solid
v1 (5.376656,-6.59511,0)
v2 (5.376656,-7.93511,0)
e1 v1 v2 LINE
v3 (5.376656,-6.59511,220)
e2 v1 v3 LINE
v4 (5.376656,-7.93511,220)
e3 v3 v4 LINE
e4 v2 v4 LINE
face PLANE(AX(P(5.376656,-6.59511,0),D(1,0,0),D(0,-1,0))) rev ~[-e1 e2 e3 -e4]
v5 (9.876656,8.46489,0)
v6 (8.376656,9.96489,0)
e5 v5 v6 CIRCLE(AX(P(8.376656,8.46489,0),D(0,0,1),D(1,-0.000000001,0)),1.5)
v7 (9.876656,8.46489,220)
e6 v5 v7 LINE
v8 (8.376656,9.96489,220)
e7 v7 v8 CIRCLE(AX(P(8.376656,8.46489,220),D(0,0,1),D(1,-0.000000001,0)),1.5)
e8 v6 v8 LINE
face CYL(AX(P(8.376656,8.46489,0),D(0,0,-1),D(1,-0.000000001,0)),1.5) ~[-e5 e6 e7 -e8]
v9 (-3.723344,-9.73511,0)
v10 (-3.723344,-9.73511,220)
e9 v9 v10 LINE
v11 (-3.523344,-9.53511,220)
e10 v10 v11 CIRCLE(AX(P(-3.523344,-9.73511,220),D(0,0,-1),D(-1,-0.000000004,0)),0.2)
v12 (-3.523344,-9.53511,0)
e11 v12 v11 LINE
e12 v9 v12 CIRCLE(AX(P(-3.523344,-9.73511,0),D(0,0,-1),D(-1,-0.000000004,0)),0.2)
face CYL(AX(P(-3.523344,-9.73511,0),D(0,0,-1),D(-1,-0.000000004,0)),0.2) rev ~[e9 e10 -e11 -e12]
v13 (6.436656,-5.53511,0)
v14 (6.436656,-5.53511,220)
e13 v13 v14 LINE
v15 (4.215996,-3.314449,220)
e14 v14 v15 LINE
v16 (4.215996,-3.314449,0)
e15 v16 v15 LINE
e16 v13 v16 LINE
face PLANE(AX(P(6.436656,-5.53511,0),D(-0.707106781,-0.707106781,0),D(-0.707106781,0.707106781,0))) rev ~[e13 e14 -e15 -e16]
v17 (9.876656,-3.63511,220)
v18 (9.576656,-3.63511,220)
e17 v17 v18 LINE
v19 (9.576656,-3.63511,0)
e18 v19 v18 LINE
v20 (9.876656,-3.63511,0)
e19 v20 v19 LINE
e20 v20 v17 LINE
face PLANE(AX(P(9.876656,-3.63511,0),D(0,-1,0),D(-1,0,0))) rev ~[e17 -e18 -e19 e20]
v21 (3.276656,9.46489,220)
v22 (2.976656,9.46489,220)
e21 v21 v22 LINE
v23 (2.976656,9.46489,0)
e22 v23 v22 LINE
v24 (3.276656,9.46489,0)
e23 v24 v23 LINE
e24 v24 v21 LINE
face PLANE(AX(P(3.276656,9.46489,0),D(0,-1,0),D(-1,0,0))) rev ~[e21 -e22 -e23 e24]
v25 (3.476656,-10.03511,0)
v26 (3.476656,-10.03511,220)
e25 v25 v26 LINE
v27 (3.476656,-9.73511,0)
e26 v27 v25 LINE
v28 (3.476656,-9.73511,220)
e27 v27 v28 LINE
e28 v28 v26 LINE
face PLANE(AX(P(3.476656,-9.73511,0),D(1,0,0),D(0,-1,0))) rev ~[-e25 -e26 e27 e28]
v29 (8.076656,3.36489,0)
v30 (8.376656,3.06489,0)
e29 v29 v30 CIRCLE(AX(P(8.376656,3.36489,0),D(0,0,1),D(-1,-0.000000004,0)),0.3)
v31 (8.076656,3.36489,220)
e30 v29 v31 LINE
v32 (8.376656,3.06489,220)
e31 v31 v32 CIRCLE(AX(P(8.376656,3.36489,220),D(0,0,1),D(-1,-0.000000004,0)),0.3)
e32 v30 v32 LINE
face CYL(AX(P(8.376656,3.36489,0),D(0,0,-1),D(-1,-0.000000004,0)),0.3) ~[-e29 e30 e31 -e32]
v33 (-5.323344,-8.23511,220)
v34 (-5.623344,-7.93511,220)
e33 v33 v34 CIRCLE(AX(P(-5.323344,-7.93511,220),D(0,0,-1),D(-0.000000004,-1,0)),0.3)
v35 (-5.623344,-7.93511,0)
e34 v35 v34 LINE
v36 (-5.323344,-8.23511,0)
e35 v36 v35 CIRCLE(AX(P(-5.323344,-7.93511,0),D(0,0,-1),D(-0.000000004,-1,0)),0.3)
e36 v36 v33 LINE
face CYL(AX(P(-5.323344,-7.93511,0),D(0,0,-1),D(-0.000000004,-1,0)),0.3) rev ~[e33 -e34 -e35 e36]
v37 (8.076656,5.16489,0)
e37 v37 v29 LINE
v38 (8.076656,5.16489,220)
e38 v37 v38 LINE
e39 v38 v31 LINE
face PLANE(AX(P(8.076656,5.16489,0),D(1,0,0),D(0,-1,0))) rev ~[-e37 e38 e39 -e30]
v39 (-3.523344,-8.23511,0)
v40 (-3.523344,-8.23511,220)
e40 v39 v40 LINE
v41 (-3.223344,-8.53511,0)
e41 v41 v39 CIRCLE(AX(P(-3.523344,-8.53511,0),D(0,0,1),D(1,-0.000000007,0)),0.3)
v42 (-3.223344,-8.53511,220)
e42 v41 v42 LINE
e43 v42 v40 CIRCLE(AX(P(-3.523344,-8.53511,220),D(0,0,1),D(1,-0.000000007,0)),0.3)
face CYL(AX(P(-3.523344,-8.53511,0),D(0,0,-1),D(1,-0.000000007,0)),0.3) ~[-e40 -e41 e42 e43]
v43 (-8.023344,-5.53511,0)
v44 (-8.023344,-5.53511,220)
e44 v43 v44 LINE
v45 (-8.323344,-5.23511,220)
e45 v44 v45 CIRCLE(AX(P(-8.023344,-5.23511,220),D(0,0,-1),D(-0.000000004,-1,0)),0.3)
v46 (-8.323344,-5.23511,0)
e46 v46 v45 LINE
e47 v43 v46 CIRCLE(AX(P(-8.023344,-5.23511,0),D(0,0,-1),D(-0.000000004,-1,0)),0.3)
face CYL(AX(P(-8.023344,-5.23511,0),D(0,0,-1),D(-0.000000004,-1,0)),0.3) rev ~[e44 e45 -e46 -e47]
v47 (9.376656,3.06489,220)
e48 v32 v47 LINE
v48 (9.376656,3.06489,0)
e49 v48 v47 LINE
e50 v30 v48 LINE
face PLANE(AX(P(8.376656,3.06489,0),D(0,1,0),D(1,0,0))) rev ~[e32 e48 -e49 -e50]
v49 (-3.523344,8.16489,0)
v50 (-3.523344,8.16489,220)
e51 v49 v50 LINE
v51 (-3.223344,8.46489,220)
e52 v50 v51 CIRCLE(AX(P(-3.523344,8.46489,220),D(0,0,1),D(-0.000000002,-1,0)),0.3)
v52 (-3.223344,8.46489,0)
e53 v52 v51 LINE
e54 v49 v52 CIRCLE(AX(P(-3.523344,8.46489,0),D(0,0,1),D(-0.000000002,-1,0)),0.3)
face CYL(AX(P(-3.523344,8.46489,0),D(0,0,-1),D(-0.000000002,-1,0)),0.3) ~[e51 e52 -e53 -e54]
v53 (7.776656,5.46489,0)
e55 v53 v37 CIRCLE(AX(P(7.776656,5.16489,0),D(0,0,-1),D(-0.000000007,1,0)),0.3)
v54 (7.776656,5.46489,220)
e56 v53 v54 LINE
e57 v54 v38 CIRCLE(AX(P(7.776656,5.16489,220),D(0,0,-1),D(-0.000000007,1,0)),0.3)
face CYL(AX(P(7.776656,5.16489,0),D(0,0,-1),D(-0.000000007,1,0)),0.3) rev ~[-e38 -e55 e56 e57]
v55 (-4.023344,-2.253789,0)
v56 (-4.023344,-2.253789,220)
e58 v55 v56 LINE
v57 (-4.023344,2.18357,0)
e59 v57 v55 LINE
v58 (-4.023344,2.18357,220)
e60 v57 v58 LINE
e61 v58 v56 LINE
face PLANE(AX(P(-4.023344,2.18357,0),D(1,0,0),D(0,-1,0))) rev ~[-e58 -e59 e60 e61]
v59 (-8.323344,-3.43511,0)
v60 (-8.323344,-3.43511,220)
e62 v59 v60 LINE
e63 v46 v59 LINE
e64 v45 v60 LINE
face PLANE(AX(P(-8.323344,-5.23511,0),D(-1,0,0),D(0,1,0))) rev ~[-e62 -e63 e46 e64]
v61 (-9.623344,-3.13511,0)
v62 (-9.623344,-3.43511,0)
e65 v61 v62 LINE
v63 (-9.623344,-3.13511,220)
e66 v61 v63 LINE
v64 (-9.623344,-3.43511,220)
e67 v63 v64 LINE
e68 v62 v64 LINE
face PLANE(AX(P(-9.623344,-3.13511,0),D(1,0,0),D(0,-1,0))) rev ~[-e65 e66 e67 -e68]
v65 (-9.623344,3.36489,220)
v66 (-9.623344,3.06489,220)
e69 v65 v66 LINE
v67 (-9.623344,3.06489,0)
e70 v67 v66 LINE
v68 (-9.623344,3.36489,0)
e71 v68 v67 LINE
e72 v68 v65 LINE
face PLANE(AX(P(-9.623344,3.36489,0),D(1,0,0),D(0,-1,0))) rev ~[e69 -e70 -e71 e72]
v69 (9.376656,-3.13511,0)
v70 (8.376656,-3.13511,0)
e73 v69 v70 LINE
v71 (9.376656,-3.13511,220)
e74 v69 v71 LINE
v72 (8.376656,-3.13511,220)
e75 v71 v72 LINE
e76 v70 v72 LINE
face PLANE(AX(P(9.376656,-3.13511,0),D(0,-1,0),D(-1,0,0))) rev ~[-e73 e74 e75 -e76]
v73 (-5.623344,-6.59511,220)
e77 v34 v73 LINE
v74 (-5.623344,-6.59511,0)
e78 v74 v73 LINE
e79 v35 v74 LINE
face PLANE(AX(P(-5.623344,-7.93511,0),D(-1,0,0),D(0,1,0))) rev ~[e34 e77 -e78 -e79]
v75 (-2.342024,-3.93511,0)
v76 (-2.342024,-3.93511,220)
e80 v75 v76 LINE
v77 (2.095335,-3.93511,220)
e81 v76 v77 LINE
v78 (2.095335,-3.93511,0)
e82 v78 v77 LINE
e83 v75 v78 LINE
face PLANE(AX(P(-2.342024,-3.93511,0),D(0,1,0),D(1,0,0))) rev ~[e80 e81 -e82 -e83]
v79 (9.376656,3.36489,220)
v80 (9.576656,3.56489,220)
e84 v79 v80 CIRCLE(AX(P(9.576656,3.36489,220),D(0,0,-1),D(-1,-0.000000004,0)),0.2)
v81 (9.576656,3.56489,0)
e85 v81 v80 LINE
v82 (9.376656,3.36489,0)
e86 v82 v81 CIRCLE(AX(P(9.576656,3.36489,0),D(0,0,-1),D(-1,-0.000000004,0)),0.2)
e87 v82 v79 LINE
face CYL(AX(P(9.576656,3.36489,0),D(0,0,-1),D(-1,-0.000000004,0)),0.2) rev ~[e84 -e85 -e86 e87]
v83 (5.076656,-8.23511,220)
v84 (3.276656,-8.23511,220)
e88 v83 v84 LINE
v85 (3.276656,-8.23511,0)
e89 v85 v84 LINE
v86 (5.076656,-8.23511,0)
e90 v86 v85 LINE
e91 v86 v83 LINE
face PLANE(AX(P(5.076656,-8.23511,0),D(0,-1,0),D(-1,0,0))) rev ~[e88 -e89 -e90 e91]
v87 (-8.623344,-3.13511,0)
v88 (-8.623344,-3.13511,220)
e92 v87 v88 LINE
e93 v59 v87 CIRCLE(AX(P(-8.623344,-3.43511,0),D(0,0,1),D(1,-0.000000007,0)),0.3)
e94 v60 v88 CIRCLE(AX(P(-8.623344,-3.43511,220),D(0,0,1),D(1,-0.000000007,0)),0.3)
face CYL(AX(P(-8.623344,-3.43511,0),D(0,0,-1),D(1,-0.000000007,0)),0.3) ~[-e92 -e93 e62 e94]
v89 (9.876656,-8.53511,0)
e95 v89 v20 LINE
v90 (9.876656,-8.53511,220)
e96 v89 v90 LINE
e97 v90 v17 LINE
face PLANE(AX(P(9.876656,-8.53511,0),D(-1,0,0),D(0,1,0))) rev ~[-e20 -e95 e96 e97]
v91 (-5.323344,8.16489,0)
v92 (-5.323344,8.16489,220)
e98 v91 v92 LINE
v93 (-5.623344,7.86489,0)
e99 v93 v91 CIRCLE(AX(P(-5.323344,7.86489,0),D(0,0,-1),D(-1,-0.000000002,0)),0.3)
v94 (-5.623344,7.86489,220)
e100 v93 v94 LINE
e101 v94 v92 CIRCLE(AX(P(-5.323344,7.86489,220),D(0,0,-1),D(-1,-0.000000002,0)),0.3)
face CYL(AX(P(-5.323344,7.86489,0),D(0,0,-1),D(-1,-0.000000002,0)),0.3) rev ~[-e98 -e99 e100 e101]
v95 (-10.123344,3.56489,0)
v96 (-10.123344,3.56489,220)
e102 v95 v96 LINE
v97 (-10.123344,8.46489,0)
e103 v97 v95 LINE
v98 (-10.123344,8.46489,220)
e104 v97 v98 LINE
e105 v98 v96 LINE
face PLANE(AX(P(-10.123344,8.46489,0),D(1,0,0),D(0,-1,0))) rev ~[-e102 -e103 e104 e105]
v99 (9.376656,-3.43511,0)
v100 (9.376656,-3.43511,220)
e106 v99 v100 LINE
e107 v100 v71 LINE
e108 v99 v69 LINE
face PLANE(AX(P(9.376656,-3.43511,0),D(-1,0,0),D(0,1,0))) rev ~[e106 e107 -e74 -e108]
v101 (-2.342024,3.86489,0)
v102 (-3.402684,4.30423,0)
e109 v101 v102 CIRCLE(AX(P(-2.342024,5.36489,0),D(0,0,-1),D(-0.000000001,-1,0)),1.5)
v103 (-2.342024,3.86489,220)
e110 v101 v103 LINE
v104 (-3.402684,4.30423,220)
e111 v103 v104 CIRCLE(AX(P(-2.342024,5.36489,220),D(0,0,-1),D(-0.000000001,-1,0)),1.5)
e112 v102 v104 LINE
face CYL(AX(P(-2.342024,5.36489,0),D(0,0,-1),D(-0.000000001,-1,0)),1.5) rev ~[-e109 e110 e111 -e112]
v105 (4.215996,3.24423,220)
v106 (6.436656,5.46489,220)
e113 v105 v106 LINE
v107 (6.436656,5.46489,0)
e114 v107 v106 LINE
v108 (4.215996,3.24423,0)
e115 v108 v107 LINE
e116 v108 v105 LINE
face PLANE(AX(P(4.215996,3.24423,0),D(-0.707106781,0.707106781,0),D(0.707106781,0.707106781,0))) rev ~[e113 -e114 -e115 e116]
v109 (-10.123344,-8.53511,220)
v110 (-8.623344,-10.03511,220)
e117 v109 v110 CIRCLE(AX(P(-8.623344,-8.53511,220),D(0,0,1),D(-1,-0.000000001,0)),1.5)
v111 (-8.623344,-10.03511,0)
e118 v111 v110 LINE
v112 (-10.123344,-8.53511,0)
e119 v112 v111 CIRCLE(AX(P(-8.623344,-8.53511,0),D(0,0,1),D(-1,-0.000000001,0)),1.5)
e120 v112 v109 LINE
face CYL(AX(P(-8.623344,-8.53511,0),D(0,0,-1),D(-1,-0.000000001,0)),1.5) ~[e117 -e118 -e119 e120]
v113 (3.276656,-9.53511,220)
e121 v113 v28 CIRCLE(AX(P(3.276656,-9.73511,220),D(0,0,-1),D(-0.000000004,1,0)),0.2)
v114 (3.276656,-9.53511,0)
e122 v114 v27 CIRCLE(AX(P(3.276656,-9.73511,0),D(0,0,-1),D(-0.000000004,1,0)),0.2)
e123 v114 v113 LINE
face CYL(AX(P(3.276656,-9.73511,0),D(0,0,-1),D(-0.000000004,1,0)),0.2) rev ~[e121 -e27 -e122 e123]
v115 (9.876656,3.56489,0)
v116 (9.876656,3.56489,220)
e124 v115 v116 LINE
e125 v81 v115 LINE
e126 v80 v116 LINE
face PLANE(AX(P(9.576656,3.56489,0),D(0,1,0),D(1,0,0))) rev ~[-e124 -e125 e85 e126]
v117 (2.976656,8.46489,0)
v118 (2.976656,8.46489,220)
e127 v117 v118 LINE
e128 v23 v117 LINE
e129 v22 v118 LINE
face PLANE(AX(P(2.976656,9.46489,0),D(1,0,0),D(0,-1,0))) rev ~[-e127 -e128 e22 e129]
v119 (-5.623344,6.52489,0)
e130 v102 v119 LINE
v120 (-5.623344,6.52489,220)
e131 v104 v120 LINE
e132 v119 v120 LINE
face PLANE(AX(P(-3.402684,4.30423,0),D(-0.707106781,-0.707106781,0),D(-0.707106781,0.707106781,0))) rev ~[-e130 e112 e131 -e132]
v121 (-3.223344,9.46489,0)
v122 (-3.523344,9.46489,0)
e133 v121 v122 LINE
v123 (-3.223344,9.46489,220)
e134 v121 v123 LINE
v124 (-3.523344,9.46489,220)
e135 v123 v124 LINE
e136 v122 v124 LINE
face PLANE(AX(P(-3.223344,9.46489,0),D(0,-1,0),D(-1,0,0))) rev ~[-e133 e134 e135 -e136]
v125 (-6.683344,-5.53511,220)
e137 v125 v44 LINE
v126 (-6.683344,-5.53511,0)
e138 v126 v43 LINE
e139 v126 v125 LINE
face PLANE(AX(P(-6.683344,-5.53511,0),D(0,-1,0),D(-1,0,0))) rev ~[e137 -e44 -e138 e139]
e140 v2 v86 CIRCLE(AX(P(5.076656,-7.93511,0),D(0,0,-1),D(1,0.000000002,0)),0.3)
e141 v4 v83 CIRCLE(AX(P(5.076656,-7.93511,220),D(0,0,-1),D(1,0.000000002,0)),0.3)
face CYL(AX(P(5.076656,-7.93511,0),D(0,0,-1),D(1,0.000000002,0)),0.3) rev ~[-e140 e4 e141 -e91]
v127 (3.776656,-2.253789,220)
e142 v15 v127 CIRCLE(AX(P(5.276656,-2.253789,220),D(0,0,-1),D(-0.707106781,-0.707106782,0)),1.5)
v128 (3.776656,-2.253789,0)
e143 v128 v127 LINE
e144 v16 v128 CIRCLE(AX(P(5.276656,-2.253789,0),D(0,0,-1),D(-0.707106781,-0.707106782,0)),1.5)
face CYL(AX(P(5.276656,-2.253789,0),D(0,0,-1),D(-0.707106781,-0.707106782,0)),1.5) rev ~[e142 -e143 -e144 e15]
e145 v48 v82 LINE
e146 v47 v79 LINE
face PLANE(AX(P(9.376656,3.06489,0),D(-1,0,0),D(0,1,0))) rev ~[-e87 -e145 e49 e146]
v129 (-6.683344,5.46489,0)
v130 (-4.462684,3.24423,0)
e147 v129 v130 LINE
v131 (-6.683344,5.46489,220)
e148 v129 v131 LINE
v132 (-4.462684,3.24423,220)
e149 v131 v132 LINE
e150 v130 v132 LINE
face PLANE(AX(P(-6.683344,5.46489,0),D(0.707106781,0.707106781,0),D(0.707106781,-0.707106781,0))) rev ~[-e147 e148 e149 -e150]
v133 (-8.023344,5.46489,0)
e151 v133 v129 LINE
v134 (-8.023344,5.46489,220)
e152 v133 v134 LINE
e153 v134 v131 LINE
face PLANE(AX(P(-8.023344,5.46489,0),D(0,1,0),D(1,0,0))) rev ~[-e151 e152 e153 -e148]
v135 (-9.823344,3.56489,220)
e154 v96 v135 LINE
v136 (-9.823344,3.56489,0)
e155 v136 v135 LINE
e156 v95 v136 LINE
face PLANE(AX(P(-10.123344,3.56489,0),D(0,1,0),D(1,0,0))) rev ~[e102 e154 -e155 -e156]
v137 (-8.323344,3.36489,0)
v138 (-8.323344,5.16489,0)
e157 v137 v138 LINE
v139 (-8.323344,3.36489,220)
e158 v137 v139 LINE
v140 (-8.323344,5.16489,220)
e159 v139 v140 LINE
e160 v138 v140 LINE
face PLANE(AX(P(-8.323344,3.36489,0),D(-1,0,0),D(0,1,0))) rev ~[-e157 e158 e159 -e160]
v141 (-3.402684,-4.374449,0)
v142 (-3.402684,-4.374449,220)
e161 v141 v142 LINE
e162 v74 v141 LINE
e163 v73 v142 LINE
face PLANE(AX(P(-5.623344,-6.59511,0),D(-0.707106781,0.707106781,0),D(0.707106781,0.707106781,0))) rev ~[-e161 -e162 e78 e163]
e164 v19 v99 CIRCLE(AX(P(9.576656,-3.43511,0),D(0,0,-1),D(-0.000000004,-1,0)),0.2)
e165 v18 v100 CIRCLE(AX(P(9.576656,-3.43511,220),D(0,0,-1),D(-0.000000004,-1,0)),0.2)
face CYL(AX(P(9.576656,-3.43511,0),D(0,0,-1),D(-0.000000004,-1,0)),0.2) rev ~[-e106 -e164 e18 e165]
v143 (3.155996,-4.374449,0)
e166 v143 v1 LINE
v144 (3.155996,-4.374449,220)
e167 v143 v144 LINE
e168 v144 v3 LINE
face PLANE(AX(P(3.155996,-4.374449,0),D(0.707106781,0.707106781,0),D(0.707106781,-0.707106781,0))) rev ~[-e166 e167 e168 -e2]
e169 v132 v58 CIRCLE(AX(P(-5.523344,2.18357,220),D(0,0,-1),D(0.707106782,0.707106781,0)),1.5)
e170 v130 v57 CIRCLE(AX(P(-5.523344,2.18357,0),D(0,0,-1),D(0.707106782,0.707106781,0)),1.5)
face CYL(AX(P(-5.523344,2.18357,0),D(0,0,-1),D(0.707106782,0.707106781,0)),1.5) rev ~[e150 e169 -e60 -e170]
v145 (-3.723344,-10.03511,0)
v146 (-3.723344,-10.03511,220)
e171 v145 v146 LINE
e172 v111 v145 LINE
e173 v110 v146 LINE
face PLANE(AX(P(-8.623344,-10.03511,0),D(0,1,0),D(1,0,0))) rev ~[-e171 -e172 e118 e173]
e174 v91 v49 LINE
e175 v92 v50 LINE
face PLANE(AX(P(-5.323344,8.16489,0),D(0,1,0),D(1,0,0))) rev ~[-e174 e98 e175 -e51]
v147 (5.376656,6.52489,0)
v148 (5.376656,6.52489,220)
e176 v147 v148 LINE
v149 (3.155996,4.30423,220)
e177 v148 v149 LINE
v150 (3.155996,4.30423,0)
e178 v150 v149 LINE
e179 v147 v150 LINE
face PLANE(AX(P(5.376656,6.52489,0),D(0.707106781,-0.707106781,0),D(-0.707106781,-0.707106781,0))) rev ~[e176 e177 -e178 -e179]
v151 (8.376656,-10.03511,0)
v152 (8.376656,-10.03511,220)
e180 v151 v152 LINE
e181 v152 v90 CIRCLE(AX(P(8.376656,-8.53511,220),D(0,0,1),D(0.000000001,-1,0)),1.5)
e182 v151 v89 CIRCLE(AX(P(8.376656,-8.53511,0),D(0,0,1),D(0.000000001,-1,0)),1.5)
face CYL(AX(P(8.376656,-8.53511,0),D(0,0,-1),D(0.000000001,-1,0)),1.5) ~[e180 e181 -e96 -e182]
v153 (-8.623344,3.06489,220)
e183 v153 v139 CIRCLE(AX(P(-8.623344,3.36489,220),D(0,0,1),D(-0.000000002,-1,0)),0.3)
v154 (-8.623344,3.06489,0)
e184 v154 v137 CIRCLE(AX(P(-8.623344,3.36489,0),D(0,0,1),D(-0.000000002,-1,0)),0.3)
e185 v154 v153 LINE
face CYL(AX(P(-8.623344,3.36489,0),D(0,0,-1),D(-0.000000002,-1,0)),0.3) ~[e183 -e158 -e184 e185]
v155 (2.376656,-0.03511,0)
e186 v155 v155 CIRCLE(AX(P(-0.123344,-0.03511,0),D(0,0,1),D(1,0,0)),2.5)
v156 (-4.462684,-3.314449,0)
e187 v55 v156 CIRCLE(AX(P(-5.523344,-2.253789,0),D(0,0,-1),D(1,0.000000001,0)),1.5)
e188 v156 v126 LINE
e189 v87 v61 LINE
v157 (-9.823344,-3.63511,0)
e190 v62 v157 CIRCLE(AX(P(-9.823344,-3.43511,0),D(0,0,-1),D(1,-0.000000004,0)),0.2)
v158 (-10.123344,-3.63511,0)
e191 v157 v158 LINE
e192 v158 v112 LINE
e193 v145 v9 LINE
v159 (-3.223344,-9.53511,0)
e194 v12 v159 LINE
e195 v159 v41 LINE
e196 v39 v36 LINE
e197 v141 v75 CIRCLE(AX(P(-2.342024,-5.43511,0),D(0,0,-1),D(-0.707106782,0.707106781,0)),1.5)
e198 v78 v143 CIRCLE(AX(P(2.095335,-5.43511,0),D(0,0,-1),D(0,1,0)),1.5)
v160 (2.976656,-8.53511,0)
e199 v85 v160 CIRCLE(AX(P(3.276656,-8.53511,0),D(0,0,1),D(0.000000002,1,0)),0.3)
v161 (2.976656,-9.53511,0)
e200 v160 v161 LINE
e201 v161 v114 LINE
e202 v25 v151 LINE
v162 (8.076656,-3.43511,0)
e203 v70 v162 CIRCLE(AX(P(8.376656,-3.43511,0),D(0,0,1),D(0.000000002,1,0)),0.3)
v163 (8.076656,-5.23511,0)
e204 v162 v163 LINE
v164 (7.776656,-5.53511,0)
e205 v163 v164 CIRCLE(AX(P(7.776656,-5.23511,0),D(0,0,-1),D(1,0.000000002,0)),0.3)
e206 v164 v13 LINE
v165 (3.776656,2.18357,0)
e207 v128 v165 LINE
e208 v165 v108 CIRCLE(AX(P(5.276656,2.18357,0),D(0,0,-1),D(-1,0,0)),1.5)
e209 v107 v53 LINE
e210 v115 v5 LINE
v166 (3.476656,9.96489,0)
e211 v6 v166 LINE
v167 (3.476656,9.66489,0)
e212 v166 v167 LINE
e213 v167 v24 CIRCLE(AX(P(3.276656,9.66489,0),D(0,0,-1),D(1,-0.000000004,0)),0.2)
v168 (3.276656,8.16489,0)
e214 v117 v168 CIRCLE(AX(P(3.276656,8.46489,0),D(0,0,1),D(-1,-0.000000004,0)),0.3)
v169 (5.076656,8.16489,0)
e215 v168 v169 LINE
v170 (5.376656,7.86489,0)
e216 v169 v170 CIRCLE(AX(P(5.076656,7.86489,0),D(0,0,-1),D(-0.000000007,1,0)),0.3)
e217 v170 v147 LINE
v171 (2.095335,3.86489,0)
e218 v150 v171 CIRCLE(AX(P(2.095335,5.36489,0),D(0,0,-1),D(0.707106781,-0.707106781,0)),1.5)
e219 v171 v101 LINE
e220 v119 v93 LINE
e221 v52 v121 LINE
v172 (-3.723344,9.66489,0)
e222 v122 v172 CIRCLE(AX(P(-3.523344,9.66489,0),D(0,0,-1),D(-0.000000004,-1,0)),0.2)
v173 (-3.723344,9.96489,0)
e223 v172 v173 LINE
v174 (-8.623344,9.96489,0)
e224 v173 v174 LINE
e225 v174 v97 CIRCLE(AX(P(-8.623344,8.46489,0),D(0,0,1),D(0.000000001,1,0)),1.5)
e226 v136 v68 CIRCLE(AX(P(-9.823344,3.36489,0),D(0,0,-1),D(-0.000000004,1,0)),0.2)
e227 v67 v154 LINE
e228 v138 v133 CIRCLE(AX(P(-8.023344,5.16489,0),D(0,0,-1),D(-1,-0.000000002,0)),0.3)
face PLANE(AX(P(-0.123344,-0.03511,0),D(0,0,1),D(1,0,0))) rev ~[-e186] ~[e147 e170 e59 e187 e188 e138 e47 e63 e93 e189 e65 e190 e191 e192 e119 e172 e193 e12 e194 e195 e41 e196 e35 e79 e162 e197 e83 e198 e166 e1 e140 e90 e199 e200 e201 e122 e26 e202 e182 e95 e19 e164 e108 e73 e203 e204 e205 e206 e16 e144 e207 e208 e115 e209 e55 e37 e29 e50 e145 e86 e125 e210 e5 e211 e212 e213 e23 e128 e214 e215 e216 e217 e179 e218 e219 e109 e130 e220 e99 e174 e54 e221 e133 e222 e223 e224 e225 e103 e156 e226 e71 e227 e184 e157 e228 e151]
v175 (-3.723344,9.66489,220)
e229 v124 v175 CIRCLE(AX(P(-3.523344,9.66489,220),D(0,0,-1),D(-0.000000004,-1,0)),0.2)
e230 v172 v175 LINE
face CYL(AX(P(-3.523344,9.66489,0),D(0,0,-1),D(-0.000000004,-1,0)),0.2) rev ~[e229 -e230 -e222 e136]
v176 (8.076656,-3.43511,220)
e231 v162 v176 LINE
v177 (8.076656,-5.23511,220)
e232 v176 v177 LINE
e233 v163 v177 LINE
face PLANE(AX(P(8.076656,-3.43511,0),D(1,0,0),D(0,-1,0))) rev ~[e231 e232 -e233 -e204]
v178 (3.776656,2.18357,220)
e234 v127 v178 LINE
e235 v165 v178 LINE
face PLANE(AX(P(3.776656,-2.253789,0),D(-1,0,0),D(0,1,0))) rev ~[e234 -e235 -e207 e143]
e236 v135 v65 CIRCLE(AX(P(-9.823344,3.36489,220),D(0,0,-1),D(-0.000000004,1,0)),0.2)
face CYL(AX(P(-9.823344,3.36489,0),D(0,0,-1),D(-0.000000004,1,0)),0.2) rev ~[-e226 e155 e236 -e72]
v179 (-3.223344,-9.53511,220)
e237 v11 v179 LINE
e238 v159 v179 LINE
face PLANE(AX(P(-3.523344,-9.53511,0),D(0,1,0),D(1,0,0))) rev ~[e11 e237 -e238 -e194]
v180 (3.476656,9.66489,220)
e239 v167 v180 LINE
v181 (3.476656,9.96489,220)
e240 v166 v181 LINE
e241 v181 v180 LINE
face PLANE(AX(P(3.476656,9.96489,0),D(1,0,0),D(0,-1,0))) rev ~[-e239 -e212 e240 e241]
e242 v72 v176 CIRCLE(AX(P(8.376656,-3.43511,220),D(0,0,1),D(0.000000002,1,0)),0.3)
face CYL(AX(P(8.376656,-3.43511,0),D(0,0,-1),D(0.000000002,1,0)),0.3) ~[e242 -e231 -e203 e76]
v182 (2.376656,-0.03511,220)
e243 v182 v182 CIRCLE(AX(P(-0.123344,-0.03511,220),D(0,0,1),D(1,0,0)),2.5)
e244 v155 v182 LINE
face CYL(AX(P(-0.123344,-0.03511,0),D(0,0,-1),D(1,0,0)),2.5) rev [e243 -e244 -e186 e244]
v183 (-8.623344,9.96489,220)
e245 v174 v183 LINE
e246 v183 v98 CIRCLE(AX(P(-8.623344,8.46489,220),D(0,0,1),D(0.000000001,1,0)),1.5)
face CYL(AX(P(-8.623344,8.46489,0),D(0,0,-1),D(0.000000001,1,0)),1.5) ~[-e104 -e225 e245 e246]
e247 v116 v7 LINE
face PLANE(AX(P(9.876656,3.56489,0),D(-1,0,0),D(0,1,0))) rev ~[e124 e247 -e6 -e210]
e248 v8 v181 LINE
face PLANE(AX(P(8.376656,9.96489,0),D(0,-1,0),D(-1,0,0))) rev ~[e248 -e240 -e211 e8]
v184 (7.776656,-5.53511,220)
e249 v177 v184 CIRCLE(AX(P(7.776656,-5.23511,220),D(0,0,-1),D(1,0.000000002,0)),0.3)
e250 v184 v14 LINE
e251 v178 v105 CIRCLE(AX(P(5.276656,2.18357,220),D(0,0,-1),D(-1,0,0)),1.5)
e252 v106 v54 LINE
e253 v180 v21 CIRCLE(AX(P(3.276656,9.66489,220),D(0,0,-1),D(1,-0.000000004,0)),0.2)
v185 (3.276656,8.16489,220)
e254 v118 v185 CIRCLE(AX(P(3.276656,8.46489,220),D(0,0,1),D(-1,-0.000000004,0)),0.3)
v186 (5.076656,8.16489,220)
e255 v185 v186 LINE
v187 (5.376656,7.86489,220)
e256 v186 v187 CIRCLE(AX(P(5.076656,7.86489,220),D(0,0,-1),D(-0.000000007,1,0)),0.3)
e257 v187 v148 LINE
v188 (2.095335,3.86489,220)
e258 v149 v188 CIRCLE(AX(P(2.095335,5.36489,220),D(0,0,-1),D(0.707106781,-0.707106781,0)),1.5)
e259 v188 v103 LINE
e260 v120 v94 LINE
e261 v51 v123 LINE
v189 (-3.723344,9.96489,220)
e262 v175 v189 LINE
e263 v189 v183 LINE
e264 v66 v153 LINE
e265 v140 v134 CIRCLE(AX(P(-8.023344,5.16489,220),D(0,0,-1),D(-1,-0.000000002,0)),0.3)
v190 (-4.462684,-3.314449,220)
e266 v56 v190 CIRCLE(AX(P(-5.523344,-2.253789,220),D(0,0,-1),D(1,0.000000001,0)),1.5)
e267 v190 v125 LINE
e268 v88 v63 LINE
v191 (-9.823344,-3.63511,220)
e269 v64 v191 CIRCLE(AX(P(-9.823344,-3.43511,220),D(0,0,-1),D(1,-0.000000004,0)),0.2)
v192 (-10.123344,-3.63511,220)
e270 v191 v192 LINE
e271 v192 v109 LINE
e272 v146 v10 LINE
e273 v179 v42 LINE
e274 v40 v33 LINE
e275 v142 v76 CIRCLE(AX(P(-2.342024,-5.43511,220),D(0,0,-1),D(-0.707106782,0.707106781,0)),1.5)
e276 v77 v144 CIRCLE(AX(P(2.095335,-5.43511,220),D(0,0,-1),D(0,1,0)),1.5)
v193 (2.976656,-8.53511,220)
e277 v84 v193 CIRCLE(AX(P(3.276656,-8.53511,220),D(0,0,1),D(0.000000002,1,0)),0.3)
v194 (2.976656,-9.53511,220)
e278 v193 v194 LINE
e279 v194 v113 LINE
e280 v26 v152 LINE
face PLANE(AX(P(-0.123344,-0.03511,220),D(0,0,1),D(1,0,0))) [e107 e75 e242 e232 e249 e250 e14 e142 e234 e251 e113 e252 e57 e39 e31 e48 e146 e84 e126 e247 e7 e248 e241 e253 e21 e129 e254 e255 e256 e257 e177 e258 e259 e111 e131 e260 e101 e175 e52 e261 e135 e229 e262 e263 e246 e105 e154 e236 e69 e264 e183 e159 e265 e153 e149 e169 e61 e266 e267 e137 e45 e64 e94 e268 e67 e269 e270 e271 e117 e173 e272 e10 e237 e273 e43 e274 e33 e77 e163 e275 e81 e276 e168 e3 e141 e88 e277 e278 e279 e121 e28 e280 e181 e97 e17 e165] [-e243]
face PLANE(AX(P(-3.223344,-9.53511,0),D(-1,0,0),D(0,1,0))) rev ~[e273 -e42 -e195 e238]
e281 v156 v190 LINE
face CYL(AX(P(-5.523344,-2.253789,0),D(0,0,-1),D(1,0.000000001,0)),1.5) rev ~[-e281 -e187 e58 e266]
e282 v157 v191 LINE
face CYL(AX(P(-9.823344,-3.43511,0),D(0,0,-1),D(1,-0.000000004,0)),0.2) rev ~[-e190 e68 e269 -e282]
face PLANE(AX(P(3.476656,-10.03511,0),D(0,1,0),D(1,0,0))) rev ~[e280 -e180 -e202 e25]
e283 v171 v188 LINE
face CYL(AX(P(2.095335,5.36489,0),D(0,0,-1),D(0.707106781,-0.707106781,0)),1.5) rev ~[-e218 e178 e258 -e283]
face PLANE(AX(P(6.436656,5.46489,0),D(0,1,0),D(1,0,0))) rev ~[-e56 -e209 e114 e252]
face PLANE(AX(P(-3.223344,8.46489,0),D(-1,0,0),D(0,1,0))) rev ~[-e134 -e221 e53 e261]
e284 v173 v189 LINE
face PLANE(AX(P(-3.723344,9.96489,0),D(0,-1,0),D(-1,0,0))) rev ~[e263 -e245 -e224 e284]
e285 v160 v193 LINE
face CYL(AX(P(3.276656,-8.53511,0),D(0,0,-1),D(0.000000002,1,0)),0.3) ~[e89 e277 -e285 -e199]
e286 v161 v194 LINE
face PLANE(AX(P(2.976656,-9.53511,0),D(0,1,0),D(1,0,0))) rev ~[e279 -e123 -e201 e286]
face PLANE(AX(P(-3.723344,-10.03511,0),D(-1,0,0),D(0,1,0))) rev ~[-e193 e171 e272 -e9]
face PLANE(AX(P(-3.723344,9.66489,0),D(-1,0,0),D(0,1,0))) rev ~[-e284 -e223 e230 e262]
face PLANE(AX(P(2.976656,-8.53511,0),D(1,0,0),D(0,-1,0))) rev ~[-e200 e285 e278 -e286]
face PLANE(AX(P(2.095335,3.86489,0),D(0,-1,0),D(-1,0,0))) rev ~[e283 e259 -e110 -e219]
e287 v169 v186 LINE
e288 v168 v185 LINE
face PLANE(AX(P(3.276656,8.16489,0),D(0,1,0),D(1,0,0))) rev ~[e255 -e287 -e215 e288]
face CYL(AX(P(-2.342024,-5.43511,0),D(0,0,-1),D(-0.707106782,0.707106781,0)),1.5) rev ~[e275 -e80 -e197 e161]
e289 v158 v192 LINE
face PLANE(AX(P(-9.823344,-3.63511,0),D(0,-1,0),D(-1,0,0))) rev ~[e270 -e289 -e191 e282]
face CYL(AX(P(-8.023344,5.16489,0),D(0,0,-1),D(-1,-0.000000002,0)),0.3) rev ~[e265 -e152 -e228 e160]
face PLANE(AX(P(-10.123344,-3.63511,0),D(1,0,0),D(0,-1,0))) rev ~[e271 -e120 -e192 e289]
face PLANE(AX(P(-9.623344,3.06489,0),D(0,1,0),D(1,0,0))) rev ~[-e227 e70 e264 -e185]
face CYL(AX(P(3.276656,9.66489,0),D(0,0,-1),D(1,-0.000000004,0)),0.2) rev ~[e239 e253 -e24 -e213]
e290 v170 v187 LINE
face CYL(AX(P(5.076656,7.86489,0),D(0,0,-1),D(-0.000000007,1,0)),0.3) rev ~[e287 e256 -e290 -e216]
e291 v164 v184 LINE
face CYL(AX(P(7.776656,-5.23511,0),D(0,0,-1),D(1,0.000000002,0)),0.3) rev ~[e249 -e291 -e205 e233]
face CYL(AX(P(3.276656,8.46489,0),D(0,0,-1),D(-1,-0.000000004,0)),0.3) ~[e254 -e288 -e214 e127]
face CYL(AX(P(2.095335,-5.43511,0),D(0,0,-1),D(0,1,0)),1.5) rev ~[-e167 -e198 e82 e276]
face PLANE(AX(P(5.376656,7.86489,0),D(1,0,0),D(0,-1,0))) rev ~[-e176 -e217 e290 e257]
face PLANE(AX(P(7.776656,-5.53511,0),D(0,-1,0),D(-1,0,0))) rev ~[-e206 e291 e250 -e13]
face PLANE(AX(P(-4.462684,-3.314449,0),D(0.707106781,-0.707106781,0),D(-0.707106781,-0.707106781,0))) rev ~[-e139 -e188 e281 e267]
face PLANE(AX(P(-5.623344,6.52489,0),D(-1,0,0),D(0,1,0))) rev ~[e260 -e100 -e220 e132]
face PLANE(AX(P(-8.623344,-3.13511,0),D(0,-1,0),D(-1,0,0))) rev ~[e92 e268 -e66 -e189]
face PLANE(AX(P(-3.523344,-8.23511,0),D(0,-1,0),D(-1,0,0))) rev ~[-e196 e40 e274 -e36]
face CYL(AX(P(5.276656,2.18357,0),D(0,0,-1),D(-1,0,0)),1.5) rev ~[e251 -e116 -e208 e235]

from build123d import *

# Parameters (mm, degrees)
SKETCH_1_R      = 2.5
EXTRUDE_1_DEPTH = 220


with BuildPart() as part:
    # 草图1 → 凸台-拉伸1 (new body)
    with BuildSketch(Plane.XY):
        with BuildLine():
            Line((4.215995631, 3.244230202), (6.436655803, 5.464890373))
            Line((6.436655803, 5.464890373), (7.776655803, 5.464890373))
            ThreePointArc((7.776655803, 5.464890373), (7.988787838, 5.377022408), (8.076655803, 5.164890373))
            Line((8.076655803, 5.164890373), (8.076655803, 3.364890373))
            ThreePointArc((8.076655803, 3.364890373), (8.164523769, 3.152758339), (8.376655803, 3.064890373))
            Line((8.376655803, 3.064890373), (9.376655803, 3.064890373))
            Line((9.376655803, 3.064890373), (9.376655803, 3.364890373))
            ThreePointArc((9.376655803, 3.364890373), (9.435234447, 3.50631173), (9.576655803, 3.564890373))
            Line((9.576655803, 3.564890373), (9.876655803, 3.564890373))
            Line((9.876655803, 3.564890373), (9.876655803, 8.464890373))
            ThreePointArc((9.876655803, 8.464890373), (9.437315975, 9.525550545), (8.376655803, 9.964890373))
            Line((8.376655803, 9.964890373), (3.476655803, 9.964890373))
            Line((3.476655803, 9.964890373), (3.476655803, 9.664890373))
            ThreePointArc((3.476655803, 9.664890373), (3.418077159, 9.523469017), (3.276655803, 9.464890373))
            Line((3.276655803, 9.464890373), (2.976655803, 9.464890373))
            Line((2.976655803, 9.464890373), (2.976655803, 8.464890373))
            ThreePointArc((2.976655803, 8.464890373), (3.064523769, 8.252758339), (3.276655803, 8.164890373))
            Line((3.276655803, 8.164890373), (5.076655803, 8.164890373))
            ThreePointArc((5.076655803, 8.164890373), (5.288787838, 8.077022408), (5.376655803, 7.864890373))
            Line((5.376655803, 7.864890373), (5.376655803, 6.524890373))
            Line((5.376655803, 6.524890373), (3.155995631, 4.304230202))
            ThreePointArc((3.155995631, 4.304230202), (2.669360608, 3.979071075), (2.09533546, 3.864890373))
            Line((2.09533546, 3.864890373), (-2.342023853, 3.864890373))
            ThreePointArc((-2.342023853, 3.864890373), (-2.916049002, 3.979071075), (-3.402684025, 4.304230202))
            Line((-3.402684025, 4.304230202), (-5.623344197, 6.524890373))
            Line((-5.623344197, 6.524890373), (-5.623344197, 7.864890373))
            ThreePointArc((-5.623344197, 7.864890373), (-5.535476231, 8.077022408), (-5.323344197, 8.164890373))
            Line((-5.323344197, 8.164890373), (-3.523344197, 8.164890373))
            ThreePointArc((-3.523344197, 8.164890373), (-3.311212162, 8.252758339), (-3.223344197, 8.464890373))
            Line((-3.223344197, 8.464890373), (-3.223344197, 9.464890373))
            Line((-3.223344197, 9.464890373), (-3.523344197, 9.464890373))
            ThreePointArc((-3.523344197, 9.464890373), (-3.664765553, 9.523469017), (-3.723344197, 9.664890373))
            Line((-3.723344197, 9.664890373), (-3.723344197, 9.964890373))
            Line((-3.723344197, 9.964890373), (-8.623344197, 9.964890373))
            ThreePointArc((-8.623344197, 9.964890373), (-9.684004369, 9.525550545), (-10.123344197, 8.464890373))
            Line((-10.123344197, 8.464890373), (-10.123344197, 3.564890373))
            Line((-10.123344197, 3.564890373), (-9.823344197, 3.564890373))
            ThreePointArc((-9.823344197, 3.564890373), (-9.681922841, 3.50631173), (-9.623344197, 3.364890373))
            Line((-9.623344197, 3.364890373), (-9.623344197, 3.064890373))
            Line((-9.623344197, 3.064890373), (-8.623344197, 3.064890373))
            ThreePointArc((-8.623344197, 3.064890373), (-8.411212162, 3.152758339), (-8.323344197, 3.364890373))
            Line((-8.323344197, 3.364890373), (-8.323344197, 5.164890373))
            ThreePointArc((-8.323344197, 5.164890373), (-8.235476231, 5.377022408), (-8.023344197, 5.464890373))
            Line((-8.023344197, 5.464890373), (-6.683344197, 5.464890373))
            Line((-6.683344197, 5.464890373), (-4.462684025, 3.244230202))
            ThreePointArc((-4.462684025, 3.244230202), (-4.137524898, 2.757595178), (-4.023344197, 2.18357003))
            Line((-4.023344197, 2.18357003), (-4.023344197, -2.253789283))
            ThreePointArc((-4.023344197, -2.253789283), (-4.137524898, -2.827814432), (-4.462684025, -3.314449455))
            Line((-4.462684025, -3.314449455), (-6.683344197, -5.535109627))
            Line((-6.683344197, -5.535109627), (-8.023344197, -5.535109627))
            ThreePointArc((-8.023344197, -5.535109627), (-8.235476231, -5.447241661), (-8.323344197, -5.235109627))
            Line((-8.323344197, -5.235109627), (-8.323344197, -3.435109627))
            ThreePointArc((-8.323344197, -3.435109627), (-8.411212162, -3.222977592), (-8.623344197, -3.135109627))
            Line((-8.623344197, -3.135109627), (-9.623344197, -3.135109627))
            Line((-9.623344197, -3.135109627), (-9.623344197, -3.435109627))
            ThreePointArc((-9.623344197, -3.435109627), (-9.681922841, -3.576530983), (-9.823344197, -3.635109627))
            Line((-9.823344197, -3.635109627), (-10.123344197, -3.635109627))
            Line((-10.123344197, -3.635109627), (-10.123344197, -8.535109627))
            ThreePointArc((-10.123344197, -8.535109627), (-9.684004369, -9.595769798), (-8.623344197, -10.035109627))
            Line((-8.623344197, -10.035109627), (-3.723344197, -10.035109627))
            Line((-3.723344197, -10.035109627), (-3.723344197, -9.735109627))
            ThreePointArc((-3.723344197, -9.735109627), (-3.664765553, -9.59368827), (-3.523344197, -9.535109627))
            Line((-3.523344197, -9.535109627), (-3.223344197, -9.535109627))
            Line((-3.223344197, -9.535109627), (-3.223344197, -8.535109627))
            ThreePointArc((-3.223344197, -8.535109627), (-3.311212162, -8.322977592), (-3.523344197, -8.235109627))
            Line((-3.523344197, -8.235109627), (-5.323344197, -8.235109627))
            ThreePointArc((-5.323344197, -8.235109627), (-5.535476231, -8.147241661), (-5.623344197, -7.935109627))
            Line((-5.623344197, -7.935109627), (-5.623344197, -6.595109627))
            Line((-5.623344197, -6.595109627), (-3.402684025, -4.374449455))
            ThreePointArc((-3.402684025, -4.374449455), (-2.916049002, -4.049290328), (-2.342023853, -3.935109627))
            Line((-2.342023853, -3.935109627), (2.09533546, -3.935109627))
            ThreePointArc((2.09533546, -3.935109627), (2.669360608, -4.049290328), (3.155995631, -4.374449455))
            Line((3.155995631, -4.374449455), (5.376655803, -6.595109627))
            Line((5.376655803, -6.595109627), (5.376655803, -7.935109627))
            ThreePointArc((5.376655803, -7.935109627), (5.288787838, -8.147241661), (5.076655803, -8.235109627))
            Line((5.076655803, -8.235109627), (3.276655803, -8.235109627))
            ThreePointArc((3.276655803, -8.235109627), (3.064523769, -8.322977592), (2.976655803, -8.535109627))
            Line((2.976655803, -8.535109627), (2.976655803, -9.535109627))
            Line((2.976655803, -9.535109627), (3.276655803, -9.535109627))
            ThreePointArc((3.276655803, -9.535109627), (3.418077159, -9.59368827), (3.476655803, -9.735109627))
            Line((3.476655803, -9.735109627), (3.476655803, -10.035109627))
            Line((3.476655803, -10.035109627), (8.376655803, -10.035109627))
            ThreePointArc((8.376655803, -10.035109627), (9.437315975, -9.595769798), (9.876655803, -8.535109627))
            Line((9.876655803, -8.535109627), (9.876655803, -3.635109627))
            Line((9.876655803, -3.635109627), (9.576655803, -3.635109627))
            ThreePointArc((9.576655803, -3.635109627), (9.435234447, -3.576530983), (9.376655803, -3.435109627))
            Line((9.376655803, -3.435109627), (9.376655803, -3.135109627))
            Line((9.376655803, -3.135109627), (8.376655803, -3.135109627))
            ThreePointArc((8.376655803, -3.135109627), (8.164523769, -3.222977592), (8.076655803, -3.435109627))
            Line((8.076655803, -3.435109627), (8.076655803, -5.235109627))
            ThreePointArc((8.076655803, -5.235109627), (7.988787838, -5.447241661), (7.776655803, -5.535109627))
            Line((7.776655803, -5.535109627), (6.436655803, -5.535109627))
            Line((6.436655803, -5.535109627), (4.215995631, -3.314449455))
            ThreePointArc((4.215995631, -3.314449455), (3.890836504, -2.827814432), (3.776655803, -2.253789283))
            Line((3.776655803, -2.253789283), (3.776655803, 2.18357003))
            ThreePointArc((3.776655803, 2.18357003), (3.890836504, 2.757595178), (4.215995631, 3.244230202))
        make_face()
        with Locations((-0.123344197, -0.035109627)):
            Circle(SKETCH_1_R, mode=Mode.SUBTRACT)
    extrude(amount=EXTRUDE_1_DEPTH)


solid = part.part
